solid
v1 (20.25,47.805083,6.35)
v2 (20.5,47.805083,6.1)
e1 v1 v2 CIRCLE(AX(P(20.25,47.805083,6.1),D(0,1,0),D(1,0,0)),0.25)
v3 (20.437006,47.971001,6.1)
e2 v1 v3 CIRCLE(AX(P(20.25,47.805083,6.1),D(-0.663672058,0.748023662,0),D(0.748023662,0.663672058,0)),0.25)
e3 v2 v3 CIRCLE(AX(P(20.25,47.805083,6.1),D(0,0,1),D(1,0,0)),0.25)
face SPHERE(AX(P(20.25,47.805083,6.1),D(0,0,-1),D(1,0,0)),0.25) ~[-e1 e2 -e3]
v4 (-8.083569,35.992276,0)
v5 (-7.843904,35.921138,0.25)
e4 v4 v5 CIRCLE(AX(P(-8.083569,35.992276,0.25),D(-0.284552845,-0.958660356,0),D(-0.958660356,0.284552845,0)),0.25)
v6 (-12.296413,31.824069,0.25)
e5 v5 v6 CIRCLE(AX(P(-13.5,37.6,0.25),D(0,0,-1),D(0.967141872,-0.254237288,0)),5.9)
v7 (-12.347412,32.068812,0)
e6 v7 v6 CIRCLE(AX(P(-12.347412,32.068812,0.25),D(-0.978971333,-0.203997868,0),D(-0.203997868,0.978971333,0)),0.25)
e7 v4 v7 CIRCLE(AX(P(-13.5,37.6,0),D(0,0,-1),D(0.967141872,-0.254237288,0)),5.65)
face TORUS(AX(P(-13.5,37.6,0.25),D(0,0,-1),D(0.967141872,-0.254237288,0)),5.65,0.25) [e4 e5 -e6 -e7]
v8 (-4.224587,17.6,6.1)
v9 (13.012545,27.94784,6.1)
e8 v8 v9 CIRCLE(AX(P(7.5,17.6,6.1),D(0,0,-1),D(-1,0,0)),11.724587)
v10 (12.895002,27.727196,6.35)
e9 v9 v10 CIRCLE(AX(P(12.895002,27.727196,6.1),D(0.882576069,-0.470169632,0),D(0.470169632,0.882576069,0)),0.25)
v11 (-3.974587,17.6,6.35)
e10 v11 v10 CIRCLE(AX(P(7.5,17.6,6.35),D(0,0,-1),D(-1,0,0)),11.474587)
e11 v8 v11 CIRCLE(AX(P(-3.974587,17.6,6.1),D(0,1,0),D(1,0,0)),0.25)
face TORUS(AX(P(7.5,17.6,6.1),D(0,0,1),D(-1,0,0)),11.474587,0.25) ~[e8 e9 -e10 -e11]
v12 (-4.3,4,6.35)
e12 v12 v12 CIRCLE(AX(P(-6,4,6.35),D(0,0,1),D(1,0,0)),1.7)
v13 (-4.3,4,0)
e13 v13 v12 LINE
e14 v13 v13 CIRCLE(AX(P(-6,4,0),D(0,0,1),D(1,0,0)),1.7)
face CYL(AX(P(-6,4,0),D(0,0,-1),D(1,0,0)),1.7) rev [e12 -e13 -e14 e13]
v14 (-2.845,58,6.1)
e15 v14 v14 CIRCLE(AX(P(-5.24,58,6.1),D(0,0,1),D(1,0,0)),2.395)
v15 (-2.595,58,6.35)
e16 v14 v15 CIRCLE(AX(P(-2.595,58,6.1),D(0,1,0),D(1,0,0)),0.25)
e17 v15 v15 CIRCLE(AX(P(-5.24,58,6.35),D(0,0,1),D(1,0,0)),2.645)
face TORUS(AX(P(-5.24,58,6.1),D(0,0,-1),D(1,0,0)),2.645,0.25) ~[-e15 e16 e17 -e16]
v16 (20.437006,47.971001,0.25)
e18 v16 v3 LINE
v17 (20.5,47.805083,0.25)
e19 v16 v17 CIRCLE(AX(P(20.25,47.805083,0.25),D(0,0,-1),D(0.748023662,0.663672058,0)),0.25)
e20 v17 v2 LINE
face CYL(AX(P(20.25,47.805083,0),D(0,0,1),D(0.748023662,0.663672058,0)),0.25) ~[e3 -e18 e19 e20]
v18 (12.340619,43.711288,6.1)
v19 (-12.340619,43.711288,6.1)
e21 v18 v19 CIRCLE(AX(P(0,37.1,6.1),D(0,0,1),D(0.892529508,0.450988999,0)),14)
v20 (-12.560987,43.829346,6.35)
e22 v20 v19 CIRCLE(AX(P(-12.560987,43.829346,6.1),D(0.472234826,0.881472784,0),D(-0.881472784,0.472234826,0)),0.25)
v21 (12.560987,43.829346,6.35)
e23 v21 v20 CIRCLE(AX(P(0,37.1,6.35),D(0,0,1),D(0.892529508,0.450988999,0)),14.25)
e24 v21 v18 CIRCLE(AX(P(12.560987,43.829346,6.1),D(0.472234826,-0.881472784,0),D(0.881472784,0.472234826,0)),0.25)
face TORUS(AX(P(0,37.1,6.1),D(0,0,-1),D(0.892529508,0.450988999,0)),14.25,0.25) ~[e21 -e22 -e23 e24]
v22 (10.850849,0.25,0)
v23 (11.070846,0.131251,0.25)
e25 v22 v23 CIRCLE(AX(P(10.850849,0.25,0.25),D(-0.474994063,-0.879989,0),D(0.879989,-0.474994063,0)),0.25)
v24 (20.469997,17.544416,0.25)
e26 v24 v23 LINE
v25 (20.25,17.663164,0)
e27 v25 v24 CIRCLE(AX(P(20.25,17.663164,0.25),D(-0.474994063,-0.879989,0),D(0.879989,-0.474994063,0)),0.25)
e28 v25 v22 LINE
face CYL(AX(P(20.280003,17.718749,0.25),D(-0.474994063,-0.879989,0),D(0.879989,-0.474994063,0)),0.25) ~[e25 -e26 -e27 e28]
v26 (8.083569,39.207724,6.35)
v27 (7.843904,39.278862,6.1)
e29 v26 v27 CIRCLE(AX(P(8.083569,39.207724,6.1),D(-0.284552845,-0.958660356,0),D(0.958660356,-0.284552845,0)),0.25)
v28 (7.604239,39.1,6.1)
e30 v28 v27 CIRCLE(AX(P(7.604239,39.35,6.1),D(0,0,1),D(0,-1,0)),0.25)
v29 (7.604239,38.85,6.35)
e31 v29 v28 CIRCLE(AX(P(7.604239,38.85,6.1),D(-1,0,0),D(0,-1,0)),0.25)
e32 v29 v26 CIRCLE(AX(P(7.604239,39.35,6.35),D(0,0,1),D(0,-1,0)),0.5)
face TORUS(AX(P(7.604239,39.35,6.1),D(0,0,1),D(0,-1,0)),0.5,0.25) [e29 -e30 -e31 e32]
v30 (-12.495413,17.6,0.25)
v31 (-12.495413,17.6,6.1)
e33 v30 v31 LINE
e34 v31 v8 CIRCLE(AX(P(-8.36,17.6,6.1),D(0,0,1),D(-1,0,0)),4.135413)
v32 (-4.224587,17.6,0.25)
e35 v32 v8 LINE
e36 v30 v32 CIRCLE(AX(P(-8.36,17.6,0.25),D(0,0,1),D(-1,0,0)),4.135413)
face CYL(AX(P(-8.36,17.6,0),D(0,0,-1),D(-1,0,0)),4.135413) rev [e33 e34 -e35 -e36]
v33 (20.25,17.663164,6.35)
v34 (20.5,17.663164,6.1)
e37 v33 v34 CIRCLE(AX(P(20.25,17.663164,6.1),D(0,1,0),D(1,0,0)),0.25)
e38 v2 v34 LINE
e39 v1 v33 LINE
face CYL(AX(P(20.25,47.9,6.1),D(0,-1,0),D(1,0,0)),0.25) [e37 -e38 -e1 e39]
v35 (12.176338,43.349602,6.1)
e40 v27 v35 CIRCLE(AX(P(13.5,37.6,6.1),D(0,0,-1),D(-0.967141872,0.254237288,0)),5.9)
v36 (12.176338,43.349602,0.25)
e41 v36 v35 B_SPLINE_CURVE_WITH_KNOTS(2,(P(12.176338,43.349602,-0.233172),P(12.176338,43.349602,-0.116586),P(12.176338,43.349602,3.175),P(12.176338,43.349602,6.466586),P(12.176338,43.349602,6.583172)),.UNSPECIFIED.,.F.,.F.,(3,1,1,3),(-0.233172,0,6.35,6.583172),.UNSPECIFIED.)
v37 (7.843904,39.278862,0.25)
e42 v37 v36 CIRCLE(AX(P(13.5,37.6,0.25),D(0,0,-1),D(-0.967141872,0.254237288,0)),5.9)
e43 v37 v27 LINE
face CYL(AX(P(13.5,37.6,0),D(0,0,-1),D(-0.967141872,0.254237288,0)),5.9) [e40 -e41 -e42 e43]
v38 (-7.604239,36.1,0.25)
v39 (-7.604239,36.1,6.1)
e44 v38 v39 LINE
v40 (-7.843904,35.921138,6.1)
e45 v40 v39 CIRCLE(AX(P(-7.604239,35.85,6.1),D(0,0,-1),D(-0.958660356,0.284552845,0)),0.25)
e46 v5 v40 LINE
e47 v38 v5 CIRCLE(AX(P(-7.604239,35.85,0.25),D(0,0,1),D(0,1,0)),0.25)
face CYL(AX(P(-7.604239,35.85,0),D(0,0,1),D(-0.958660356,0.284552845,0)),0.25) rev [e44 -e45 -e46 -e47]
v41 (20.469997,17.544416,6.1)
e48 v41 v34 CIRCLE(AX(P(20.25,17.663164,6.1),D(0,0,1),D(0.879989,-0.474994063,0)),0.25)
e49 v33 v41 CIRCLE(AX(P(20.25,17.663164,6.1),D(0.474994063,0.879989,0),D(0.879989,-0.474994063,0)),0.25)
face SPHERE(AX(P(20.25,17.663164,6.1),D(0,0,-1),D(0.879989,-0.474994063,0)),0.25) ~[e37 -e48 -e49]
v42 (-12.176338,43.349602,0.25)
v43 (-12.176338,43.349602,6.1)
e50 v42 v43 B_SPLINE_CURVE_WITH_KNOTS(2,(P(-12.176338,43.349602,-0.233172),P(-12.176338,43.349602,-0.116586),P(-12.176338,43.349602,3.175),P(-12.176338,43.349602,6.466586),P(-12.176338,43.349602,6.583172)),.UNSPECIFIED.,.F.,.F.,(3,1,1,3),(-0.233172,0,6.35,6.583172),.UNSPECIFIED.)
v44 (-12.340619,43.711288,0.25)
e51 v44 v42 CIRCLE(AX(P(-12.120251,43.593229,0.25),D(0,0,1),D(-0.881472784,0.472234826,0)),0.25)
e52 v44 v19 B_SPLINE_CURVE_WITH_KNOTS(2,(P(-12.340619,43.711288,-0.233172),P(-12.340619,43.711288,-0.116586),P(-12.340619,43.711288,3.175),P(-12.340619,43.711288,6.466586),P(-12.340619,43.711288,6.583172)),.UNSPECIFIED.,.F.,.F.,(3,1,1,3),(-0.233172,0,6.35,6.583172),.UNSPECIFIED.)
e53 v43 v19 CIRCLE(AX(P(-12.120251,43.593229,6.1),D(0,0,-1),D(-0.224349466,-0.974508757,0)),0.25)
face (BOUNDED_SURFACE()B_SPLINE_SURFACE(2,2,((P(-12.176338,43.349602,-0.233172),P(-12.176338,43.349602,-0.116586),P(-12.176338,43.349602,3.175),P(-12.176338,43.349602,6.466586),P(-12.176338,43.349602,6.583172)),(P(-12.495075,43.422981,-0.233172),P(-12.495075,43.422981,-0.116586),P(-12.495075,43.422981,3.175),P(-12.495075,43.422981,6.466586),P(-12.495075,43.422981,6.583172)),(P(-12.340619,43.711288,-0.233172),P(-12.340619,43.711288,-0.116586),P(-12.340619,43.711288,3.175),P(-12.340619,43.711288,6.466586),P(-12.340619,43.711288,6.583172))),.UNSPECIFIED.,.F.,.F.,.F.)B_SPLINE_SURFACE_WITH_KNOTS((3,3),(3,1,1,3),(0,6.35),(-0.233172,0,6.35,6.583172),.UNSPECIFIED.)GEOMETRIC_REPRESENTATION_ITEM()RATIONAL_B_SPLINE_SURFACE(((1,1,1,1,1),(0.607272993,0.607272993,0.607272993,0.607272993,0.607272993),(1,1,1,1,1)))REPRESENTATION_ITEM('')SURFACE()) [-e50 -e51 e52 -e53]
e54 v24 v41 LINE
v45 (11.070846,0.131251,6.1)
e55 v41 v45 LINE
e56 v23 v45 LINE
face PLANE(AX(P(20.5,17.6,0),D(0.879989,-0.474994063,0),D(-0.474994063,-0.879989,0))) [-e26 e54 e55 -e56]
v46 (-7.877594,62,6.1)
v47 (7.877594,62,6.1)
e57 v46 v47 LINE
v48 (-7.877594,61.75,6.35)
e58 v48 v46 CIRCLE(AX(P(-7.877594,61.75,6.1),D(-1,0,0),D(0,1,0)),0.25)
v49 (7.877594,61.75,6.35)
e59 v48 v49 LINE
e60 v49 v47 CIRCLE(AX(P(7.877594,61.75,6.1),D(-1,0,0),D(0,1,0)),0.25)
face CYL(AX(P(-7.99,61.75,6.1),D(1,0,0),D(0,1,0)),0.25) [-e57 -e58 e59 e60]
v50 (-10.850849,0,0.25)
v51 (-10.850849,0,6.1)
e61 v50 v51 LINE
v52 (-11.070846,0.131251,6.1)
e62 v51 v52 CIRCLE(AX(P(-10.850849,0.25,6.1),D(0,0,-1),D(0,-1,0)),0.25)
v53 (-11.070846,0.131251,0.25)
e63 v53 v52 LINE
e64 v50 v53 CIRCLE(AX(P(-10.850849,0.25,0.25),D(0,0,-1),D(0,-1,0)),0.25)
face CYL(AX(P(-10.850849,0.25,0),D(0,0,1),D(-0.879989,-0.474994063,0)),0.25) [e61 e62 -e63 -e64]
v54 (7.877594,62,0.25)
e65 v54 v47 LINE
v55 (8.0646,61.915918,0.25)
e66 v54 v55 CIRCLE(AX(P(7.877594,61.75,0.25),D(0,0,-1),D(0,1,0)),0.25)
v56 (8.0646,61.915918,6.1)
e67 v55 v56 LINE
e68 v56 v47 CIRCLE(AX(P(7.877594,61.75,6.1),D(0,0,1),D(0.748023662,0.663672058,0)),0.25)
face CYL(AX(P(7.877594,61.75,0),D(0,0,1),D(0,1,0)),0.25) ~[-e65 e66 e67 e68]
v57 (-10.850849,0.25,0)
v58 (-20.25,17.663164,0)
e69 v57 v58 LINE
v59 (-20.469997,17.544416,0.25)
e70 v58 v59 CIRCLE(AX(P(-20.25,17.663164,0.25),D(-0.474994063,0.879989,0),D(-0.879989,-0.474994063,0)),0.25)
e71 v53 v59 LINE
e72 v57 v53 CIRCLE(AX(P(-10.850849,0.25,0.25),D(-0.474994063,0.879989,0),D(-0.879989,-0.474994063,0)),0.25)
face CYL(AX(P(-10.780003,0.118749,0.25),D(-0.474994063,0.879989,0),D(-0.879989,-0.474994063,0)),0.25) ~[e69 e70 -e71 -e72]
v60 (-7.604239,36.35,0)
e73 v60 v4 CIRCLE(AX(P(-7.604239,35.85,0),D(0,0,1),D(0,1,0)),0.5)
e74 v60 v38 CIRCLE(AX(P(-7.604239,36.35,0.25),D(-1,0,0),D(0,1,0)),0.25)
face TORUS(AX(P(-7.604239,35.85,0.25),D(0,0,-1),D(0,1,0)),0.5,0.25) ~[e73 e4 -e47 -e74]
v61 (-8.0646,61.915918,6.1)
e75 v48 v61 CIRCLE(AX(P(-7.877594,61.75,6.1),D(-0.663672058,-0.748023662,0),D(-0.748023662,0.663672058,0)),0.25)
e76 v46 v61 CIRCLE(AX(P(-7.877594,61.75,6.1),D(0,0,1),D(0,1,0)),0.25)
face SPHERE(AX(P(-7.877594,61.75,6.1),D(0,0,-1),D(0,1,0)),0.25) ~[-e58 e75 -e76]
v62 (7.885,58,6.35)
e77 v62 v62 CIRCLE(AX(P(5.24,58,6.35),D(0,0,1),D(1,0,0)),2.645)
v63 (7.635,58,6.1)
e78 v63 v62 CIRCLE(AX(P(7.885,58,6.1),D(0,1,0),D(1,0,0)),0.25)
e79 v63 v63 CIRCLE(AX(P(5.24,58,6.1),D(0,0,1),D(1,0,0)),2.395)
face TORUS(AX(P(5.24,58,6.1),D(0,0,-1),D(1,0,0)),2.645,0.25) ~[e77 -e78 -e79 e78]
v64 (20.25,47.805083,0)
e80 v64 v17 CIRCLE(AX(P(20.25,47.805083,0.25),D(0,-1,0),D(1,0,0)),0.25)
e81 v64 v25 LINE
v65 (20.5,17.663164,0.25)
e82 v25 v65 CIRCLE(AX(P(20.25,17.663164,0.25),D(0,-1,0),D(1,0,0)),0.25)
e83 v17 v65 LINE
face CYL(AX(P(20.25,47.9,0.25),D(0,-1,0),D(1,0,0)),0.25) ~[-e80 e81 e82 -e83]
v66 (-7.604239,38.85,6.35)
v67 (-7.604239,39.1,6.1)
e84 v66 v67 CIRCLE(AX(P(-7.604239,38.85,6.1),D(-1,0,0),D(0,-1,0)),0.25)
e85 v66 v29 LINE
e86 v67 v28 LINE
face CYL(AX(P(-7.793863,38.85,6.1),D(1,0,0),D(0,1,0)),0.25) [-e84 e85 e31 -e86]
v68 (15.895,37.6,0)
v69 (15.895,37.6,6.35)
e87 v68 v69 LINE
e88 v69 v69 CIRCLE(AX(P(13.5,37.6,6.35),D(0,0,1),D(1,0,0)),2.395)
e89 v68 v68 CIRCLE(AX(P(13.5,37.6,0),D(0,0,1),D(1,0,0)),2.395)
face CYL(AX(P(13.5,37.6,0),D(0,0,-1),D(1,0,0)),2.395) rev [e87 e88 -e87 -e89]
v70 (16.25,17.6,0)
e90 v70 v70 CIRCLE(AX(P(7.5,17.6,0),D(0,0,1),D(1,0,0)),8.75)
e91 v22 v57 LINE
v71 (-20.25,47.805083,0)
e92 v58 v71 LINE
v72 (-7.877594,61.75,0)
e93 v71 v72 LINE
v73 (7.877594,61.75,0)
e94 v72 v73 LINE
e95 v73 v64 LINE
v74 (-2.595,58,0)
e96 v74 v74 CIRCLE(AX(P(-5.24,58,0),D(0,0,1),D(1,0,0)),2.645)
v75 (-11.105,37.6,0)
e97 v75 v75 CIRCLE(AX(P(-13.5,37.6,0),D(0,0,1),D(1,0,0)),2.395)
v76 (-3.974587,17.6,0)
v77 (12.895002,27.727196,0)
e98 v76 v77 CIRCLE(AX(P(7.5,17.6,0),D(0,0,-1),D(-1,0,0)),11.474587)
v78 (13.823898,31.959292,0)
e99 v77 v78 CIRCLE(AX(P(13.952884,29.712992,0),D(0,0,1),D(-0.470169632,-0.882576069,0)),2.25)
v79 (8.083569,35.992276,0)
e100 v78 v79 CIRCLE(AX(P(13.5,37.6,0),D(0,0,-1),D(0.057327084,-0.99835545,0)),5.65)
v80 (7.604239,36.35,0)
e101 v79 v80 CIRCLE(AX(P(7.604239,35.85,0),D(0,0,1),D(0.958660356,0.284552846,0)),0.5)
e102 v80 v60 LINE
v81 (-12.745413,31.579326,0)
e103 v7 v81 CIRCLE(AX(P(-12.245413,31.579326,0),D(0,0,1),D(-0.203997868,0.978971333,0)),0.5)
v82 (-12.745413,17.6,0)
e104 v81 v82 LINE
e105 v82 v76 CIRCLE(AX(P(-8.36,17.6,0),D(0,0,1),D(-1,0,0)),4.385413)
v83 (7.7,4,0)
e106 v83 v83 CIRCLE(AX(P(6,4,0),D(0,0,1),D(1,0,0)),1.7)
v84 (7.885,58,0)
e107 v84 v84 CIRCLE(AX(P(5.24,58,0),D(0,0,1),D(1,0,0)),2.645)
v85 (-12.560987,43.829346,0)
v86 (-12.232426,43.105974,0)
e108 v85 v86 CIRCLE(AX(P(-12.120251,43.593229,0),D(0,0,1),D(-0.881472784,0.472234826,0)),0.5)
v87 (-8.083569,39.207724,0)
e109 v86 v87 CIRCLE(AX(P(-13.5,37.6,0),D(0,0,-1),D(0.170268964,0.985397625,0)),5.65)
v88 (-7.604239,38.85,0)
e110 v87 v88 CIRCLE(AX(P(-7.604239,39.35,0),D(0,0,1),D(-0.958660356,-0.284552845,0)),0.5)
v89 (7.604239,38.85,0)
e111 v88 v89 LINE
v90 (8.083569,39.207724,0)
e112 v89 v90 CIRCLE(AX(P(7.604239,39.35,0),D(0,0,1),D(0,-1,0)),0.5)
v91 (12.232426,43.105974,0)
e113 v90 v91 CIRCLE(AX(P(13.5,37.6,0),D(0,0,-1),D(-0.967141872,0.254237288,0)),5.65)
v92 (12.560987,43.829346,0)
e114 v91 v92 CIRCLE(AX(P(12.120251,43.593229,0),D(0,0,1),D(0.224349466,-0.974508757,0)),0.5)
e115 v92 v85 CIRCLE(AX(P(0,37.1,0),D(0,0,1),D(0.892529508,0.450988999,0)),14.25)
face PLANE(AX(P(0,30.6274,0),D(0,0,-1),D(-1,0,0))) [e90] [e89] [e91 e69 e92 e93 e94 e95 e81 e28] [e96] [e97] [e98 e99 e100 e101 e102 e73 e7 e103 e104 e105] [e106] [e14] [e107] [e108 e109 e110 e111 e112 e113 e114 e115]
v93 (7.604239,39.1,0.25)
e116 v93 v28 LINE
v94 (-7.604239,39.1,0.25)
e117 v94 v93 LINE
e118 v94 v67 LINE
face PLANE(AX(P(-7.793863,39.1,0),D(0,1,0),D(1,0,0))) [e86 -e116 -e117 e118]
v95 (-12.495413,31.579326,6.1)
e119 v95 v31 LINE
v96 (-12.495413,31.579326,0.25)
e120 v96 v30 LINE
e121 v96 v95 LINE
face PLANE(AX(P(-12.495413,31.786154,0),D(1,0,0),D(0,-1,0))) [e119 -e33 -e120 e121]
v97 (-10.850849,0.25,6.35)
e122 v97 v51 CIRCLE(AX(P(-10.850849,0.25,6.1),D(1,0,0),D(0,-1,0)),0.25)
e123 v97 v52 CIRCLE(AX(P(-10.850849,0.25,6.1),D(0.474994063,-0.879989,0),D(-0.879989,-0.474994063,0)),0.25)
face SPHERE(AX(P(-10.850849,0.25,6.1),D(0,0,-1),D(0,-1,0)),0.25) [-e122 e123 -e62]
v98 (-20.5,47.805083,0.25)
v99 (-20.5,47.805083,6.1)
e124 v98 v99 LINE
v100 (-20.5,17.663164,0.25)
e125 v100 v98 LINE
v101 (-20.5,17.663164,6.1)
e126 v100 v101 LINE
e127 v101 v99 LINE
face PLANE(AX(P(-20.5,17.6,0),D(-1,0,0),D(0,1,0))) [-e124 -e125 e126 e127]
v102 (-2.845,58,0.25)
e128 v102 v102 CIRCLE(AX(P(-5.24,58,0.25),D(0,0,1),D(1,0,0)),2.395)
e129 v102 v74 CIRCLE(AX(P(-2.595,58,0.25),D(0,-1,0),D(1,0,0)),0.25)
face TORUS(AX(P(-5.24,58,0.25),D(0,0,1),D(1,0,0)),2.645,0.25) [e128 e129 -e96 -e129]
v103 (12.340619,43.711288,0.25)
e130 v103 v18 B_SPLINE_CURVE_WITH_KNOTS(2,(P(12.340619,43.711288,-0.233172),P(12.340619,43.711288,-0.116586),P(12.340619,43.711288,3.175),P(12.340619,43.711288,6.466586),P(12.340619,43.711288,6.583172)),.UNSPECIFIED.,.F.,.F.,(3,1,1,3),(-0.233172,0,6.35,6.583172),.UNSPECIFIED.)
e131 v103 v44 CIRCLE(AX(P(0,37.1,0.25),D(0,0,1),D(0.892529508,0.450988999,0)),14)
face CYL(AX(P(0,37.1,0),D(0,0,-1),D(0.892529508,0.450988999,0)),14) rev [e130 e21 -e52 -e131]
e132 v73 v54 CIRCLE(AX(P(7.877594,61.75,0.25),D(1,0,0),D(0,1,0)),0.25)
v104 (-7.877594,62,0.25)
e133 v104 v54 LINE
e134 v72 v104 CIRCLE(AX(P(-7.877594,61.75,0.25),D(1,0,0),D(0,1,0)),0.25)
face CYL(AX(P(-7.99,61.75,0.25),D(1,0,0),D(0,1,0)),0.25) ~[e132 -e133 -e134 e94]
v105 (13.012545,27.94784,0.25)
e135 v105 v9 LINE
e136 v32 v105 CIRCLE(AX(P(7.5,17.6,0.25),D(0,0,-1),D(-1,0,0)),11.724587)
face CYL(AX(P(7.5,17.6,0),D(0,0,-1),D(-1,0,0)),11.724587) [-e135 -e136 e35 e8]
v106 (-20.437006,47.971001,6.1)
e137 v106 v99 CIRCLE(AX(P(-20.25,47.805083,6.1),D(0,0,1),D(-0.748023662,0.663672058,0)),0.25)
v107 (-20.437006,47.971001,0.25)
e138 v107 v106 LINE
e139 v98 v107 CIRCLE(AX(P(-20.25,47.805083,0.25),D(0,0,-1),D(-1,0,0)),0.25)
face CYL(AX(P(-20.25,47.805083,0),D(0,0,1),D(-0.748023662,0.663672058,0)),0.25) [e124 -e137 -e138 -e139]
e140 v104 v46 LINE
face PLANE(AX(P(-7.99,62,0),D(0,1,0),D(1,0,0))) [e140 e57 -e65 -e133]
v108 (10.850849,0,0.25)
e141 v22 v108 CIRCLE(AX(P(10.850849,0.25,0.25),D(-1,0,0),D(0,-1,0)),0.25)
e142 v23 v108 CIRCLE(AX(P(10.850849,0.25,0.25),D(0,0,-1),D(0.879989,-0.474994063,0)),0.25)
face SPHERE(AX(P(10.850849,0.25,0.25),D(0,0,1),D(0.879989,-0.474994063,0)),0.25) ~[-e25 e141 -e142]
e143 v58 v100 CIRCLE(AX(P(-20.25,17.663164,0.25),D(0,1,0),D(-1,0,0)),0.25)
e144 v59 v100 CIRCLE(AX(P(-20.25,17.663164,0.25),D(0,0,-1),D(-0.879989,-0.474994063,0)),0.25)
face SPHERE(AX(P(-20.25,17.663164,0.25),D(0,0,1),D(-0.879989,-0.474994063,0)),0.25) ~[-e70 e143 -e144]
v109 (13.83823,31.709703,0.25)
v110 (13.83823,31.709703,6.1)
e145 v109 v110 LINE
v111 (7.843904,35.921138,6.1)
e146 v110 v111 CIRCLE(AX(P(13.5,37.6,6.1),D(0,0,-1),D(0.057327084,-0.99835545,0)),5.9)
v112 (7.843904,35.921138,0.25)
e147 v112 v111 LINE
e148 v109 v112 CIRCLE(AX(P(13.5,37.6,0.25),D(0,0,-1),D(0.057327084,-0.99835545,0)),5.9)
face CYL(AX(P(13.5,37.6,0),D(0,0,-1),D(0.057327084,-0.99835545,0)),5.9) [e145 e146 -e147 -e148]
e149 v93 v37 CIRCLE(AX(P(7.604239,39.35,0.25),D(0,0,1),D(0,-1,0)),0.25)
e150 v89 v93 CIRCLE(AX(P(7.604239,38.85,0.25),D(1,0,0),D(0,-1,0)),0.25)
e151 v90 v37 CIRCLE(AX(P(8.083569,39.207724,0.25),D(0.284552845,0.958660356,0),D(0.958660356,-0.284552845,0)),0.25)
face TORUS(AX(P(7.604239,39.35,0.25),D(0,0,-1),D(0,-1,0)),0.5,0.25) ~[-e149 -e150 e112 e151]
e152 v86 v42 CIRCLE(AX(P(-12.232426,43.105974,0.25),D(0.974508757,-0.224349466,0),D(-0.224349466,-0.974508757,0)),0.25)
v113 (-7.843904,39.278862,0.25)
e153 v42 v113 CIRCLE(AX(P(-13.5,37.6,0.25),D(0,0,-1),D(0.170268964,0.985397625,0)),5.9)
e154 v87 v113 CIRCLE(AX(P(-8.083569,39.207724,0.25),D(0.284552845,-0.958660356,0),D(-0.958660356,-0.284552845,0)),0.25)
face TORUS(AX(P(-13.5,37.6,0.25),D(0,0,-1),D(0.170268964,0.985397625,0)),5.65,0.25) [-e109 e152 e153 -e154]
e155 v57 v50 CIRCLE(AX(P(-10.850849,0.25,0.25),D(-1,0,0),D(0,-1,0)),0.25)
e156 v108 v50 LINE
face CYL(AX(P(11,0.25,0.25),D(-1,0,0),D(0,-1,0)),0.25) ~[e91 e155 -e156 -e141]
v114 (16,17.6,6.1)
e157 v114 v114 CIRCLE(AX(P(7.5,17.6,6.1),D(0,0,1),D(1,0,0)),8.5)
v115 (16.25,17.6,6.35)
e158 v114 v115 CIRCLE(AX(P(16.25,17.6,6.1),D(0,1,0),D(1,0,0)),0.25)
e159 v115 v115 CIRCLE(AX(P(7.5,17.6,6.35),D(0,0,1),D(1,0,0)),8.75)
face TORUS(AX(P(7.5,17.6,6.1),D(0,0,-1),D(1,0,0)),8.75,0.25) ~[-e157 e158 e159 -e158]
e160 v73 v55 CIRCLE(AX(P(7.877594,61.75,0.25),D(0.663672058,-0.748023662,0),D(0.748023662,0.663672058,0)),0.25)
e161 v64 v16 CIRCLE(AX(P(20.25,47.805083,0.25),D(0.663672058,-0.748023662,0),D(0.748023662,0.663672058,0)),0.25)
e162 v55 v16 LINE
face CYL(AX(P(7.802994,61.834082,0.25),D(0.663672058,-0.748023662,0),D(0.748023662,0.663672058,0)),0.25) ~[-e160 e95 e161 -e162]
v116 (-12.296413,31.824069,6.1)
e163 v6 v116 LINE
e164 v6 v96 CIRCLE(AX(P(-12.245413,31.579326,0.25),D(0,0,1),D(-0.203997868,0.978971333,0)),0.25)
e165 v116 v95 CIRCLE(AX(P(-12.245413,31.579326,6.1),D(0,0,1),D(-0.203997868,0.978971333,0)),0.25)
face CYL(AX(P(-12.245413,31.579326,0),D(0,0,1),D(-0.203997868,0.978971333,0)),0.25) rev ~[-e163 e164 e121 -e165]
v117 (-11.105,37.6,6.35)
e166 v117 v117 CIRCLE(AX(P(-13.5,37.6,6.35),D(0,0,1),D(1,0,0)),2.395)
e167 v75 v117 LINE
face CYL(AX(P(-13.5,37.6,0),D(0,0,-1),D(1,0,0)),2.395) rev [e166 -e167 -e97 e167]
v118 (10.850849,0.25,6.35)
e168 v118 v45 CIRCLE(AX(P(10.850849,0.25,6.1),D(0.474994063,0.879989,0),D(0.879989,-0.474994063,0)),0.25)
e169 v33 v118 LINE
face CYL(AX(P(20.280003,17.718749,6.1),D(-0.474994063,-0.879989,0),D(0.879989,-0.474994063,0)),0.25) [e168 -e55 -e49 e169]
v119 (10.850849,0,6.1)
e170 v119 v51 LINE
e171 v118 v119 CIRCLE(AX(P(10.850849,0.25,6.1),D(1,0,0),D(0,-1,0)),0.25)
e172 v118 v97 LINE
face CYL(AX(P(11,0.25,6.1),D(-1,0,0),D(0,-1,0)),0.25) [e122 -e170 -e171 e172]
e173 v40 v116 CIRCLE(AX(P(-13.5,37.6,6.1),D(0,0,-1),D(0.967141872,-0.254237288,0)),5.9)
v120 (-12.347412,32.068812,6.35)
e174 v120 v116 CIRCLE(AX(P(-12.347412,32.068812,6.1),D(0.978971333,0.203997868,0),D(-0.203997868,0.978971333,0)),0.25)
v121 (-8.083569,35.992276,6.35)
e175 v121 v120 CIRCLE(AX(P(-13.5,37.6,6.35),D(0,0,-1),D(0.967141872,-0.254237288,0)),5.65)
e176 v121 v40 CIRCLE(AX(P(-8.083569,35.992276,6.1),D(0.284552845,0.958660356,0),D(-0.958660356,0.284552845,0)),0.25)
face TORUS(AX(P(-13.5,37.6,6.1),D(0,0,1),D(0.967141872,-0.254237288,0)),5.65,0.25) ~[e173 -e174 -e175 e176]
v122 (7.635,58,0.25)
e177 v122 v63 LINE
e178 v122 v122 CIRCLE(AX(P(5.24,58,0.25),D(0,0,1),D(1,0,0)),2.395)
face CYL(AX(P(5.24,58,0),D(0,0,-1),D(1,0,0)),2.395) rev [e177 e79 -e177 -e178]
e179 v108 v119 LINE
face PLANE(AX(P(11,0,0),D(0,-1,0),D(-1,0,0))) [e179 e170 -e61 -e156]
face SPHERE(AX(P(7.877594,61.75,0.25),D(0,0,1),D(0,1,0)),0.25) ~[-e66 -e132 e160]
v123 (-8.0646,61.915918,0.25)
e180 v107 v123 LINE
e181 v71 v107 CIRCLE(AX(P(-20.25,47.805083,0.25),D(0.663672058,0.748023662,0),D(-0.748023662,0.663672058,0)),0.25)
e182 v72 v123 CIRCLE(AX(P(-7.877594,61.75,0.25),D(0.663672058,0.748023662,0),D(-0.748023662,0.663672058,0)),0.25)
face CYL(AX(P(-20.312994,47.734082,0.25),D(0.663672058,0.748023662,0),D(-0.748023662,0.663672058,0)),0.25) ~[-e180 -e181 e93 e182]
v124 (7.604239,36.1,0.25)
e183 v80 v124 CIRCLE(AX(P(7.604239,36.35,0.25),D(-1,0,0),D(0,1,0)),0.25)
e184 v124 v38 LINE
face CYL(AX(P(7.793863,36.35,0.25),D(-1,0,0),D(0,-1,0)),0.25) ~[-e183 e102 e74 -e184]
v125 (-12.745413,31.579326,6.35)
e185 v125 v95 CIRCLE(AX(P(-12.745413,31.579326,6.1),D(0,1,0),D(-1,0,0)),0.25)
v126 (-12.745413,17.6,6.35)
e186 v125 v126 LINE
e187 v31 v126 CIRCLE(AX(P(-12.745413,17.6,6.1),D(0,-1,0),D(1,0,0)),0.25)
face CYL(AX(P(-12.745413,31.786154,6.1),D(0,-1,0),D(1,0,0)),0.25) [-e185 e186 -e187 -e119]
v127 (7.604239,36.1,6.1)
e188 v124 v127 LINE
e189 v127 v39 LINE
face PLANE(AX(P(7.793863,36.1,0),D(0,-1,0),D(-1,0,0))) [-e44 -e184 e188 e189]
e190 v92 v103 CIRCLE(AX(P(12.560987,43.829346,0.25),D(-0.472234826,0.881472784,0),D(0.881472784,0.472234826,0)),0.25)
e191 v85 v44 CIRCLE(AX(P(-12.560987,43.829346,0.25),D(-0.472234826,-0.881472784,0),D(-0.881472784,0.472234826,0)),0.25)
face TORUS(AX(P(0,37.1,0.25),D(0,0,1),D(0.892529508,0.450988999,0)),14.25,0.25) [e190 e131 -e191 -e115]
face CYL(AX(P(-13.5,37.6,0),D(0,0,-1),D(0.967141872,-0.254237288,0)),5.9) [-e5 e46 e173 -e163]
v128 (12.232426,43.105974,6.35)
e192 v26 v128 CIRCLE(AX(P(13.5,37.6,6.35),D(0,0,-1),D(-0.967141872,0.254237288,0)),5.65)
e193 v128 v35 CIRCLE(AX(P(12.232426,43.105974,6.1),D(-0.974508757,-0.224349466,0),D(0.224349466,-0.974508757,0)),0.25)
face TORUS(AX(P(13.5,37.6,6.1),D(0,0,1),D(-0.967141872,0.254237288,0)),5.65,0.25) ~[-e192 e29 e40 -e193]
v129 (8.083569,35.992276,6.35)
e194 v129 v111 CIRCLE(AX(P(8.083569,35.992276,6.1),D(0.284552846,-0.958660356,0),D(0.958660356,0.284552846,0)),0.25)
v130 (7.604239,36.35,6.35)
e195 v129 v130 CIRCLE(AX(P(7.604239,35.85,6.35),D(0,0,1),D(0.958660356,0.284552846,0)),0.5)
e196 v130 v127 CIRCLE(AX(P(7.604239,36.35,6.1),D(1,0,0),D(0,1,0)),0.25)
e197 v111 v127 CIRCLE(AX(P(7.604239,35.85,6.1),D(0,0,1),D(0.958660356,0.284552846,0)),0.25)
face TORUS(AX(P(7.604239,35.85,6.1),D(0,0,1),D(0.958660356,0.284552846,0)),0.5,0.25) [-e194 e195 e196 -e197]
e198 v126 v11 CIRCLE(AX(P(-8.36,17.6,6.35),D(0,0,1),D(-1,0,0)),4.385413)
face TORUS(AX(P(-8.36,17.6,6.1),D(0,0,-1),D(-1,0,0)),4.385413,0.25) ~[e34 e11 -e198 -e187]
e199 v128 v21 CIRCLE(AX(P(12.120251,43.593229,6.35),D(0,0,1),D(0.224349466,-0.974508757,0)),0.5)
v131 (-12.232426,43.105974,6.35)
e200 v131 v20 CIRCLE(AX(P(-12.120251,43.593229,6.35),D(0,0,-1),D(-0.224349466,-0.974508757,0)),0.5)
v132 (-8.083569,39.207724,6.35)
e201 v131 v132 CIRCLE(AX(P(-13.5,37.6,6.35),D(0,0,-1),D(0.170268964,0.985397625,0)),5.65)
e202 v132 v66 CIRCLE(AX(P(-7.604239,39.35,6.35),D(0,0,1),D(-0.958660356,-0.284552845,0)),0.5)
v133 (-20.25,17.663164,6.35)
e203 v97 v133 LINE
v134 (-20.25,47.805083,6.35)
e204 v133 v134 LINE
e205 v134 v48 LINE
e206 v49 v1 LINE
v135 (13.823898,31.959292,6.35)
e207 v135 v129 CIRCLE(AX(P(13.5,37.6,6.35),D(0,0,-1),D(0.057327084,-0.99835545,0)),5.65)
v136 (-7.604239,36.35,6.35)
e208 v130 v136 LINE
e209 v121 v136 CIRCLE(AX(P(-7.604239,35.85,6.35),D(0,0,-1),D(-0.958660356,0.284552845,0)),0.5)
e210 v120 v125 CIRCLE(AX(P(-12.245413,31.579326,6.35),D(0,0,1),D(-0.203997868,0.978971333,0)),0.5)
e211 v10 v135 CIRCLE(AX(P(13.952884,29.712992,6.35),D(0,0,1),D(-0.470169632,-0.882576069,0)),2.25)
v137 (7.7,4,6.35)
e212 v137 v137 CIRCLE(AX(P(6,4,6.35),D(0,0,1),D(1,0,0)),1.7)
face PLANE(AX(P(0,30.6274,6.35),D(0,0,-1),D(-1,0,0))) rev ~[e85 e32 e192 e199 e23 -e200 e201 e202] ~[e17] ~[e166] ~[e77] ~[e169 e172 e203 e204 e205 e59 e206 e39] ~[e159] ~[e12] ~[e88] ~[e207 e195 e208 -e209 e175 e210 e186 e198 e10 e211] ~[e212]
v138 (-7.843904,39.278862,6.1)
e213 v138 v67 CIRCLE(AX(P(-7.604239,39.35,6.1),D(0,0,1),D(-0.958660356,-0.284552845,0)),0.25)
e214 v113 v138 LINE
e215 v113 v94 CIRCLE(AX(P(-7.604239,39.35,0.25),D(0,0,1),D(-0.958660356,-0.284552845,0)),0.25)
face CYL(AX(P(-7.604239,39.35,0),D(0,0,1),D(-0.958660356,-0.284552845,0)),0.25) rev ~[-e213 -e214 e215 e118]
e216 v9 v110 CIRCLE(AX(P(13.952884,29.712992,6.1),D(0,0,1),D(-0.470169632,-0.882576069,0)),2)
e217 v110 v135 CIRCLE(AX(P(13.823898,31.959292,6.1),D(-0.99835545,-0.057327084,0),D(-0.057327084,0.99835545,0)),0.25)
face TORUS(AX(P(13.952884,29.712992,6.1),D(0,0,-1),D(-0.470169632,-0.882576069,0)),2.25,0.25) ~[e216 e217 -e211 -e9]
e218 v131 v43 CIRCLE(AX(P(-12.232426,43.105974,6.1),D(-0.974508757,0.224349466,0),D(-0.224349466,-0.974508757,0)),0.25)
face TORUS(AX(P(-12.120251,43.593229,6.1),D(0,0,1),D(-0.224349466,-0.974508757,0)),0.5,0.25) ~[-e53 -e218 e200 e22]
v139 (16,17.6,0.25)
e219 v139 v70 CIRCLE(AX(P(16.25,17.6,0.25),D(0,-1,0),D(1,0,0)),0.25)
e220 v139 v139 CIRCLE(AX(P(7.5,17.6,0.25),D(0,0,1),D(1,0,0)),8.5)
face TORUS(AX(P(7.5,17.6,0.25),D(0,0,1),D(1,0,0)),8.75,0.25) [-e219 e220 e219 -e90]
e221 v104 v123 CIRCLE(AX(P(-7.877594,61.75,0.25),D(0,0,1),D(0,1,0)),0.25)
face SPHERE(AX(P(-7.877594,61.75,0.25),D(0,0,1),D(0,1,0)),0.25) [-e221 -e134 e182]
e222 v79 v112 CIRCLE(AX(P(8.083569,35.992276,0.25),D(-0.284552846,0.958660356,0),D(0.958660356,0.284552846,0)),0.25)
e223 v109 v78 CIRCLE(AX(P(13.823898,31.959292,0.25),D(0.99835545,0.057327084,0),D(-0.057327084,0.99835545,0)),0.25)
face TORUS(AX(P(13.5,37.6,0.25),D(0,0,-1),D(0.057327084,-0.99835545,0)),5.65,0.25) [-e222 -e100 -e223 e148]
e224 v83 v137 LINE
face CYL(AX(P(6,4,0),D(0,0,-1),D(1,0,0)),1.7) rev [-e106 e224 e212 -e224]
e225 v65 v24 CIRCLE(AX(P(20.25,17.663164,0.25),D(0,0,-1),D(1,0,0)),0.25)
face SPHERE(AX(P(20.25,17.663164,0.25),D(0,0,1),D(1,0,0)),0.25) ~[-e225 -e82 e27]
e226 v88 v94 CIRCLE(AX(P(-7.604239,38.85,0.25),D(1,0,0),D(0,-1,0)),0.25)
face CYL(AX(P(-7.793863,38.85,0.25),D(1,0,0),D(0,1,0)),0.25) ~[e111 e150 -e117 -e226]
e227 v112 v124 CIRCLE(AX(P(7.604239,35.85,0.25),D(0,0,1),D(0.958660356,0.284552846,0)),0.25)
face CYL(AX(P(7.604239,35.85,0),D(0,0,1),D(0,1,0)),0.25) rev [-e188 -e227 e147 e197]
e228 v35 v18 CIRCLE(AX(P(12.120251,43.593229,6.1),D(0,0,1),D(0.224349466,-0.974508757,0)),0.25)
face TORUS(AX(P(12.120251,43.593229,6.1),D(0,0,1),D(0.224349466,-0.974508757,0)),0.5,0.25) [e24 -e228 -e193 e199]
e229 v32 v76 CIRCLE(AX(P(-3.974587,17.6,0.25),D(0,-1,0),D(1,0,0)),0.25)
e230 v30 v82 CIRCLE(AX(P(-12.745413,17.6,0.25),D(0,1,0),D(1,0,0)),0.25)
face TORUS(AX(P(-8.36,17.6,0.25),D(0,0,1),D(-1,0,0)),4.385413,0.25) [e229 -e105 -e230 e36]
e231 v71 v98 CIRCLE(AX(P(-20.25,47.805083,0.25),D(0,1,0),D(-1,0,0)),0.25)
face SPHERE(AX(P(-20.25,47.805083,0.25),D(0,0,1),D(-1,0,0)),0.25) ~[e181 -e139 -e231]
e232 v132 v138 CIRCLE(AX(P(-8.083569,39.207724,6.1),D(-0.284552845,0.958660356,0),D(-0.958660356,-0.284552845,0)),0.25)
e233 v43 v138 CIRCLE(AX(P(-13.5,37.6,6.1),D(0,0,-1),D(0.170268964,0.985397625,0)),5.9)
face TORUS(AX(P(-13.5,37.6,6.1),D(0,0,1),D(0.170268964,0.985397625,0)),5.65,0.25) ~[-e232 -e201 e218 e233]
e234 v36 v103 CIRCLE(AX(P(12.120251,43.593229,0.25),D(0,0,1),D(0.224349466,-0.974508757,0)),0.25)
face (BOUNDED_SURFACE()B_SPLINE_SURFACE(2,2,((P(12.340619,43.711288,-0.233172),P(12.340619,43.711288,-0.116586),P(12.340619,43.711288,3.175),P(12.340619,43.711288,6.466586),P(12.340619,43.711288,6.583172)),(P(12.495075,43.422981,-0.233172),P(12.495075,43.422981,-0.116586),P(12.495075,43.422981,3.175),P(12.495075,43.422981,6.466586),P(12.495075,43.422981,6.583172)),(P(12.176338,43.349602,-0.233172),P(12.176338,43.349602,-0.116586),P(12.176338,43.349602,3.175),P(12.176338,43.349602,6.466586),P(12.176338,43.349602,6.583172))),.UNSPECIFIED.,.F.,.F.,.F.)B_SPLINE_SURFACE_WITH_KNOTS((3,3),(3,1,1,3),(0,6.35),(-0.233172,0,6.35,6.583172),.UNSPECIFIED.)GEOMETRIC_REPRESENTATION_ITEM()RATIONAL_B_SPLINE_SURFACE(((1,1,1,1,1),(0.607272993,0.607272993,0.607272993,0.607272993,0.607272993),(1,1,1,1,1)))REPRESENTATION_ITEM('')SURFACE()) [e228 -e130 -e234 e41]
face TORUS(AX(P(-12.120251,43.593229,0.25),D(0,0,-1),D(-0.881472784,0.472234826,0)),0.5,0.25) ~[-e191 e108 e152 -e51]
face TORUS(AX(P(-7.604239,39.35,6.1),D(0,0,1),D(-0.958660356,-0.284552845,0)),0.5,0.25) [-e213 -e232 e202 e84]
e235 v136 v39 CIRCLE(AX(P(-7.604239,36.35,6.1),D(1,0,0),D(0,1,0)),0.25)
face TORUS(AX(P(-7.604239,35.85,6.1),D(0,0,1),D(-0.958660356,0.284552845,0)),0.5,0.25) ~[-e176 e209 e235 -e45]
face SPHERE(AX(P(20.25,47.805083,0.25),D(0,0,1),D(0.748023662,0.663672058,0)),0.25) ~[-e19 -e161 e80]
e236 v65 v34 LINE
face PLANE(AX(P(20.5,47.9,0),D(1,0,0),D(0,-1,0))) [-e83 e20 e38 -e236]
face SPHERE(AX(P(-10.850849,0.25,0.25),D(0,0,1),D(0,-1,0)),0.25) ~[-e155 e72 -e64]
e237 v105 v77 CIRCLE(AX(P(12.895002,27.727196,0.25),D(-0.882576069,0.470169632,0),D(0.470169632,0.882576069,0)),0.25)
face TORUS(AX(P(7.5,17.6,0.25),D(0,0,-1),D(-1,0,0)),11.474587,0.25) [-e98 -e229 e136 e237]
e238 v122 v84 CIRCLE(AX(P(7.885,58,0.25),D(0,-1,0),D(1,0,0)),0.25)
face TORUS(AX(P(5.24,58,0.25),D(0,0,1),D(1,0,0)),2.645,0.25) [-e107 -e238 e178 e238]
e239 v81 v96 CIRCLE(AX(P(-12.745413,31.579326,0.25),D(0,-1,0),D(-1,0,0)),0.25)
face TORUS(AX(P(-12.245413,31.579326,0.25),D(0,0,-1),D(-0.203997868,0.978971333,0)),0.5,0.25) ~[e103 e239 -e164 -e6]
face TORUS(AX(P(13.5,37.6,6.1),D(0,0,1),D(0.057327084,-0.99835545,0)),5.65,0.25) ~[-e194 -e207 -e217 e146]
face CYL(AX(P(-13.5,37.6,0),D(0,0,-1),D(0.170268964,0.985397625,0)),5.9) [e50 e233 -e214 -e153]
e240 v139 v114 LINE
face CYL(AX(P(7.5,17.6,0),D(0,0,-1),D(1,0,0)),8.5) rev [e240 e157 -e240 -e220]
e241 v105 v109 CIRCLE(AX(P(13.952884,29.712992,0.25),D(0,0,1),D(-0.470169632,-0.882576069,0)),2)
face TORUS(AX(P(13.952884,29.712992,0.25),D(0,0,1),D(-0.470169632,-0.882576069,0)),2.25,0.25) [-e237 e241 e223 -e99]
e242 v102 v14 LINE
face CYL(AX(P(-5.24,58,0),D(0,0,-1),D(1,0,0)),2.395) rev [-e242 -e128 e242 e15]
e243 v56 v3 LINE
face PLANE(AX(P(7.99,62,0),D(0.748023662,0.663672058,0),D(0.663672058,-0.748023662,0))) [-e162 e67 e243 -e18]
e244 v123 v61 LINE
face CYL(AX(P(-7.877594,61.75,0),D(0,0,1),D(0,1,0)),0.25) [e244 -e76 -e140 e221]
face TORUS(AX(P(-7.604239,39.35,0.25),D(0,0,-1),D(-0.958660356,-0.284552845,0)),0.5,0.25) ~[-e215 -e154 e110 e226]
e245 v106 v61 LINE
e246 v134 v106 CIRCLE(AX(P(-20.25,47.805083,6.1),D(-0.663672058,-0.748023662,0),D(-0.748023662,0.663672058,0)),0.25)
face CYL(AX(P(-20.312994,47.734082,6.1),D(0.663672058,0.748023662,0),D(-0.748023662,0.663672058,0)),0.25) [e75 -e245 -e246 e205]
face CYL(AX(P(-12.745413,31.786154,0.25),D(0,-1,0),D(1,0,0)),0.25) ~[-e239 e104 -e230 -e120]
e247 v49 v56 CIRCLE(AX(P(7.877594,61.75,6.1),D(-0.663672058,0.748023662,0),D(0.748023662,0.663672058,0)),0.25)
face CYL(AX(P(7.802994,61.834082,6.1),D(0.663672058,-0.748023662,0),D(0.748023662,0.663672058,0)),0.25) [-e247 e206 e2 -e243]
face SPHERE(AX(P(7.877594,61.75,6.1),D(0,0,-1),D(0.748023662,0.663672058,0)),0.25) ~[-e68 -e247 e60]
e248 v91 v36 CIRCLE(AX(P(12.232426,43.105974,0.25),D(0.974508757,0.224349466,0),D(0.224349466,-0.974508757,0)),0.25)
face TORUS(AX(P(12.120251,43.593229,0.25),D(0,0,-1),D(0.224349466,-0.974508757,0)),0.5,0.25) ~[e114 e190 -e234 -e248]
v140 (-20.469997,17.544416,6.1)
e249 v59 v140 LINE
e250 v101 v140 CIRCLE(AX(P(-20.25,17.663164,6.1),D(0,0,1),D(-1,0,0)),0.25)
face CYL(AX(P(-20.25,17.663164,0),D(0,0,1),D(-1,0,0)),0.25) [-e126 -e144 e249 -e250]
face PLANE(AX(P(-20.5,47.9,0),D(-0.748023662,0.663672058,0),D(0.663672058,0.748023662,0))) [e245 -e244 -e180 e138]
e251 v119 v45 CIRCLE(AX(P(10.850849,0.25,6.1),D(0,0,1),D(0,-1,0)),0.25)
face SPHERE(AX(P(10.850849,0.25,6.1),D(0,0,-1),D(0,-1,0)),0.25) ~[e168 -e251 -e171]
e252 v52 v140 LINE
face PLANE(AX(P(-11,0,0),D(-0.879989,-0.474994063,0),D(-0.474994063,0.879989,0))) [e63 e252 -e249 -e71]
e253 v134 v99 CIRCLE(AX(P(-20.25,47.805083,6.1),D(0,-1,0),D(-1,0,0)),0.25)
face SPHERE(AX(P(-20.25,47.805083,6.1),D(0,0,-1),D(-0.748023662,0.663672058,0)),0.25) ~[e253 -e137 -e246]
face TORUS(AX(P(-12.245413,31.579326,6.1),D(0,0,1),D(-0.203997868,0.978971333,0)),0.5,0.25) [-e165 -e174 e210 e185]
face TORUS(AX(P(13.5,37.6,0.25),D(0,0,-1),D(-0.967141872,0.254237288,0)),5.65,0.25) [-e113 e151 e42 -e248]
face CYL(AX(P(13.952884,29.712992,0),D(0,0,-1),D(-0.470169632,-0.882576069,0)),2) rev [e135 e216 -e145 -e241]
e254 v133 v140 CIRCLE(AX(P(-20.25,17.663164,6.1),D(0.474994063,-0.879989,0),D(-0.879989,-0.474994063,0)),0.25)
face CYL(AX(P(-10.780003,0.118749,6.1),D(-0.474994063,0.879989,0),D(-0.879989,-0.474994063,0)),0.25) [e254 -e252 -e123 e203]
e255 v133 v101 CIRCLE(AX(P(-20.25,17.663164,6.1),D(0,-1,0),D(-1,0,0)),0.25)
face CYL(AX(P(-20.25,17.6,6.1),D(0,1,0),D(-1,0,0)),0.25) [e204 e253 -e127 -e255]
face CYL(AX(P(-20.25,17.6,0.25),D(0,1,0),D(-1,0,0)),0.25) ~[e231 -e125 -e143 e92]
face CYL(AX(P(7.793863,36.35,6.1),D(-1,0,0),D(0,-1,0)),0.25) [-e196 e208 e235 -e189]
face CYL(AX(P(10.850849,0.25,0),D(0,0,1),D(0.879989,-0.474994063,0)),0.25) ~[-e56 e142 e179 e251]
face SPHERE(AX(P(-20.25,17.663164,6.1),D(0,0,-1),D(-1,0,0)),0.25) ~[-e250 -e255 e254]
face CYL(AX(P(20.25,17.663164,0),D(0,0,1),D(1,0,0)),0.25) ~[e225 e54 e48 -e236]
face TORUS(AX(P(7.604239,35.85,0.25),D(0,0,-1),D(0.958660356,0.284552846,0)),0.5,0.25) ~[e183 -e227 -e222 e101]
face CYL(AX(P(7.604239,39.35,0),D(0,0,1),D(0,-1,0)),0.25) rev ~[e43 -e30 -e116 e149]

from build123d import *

# Parameters (mm, degrees)
ESBO_O1_R                = 2.395
ESBO_O1_R_2              = 1.5
ESBO_O1_R_3              = 8.5
RESSALTO_EXTRUS_O1_DEPTH = 6.35
FILETE1_R                = 0.25
SKETCH_1_R               = 3.248462934
SKETCH_1_R_2             = 2.395
SKETCH_1_R_3             = 3.322627998
EXTRUDE_1_DEPTH          = 6.35
SKETCH_2_R               = 1.7
CUT_EXTRUDE_1_DEPTH      = 6.35


with BuildPart() as part:
    # Esboço1 → Ressalto-extrusão1 (new body)
    with BuildSketch(Plane.XY):
        Polygon((-7.99, 62), (7.99, 62), (20.5, 47.9), (20.5, 17.6), (11, 0), (-11, 0), (-20.5, 17.6), (-20.5, 47.9), align=None)
        with Locations((5.24, 58)):
            Circle(ESBO_O1_R, mode=Mode.SUBTRACT)
        with Locations((-5.24, 58)):
            Circle(ESBO_O1_R, mode=Mode.SUBTRACT)
        with Locations((6, 4)):
            Circle(ESBO_O1_R_2, mode=Mode.SUBTRACT)
        with Locations((-6, 4)):
            Circle(ESBO_O1_R_2, mode=Mode.SUBTRACT)
        with Locations((7.5, 17.6)):
            Circle(ESBO_O1_R_3, mode=Mode.SUBTRACT)
        with Locations((13.5, 37.6)):
            Circle(ESBO_O1_R, mode=Mode.SUBTRACT)
        with Locations((-13.5, 37.6)):
            Circle(ESBO_O1_R, mode=Mode.SUBTRACT)
        with BuildLine():
            Line((-7.793862953, 39.1), (7.793862953, 39.1))
            ThreePointArc((7.793862953, 39.1), (9.511169252, 41.94732438), (12.495413112, 43.413845989))
            ThreePointArc((12.495413112, 43.413845989), (0, 51.1), (-12.495413112, 43.413845989))
            ThreePointArc((-12.495413112, 43.413845989), (-9.511169252, 41.94732438), (-7.793862953, 39.1))
        make_face(mode=Mode.SUBTRACT)
        with BuildLine():
            Line((-12.495413112, 31.786154011), (-12.495413112, 17.6))
            ThreePointArc((-12.495413112, 17.6), (-8.36, 13.464586888), (-4.224586888, 17.6))
            ThreePointArc((-4.224586888, 17.6), (1.465365447, 27.652319311), (13.012544702, 27.947839804))
            ThreePointArc((13.012544702, 27.947839804), (15.906382409, 29.2842218), (13.838229798, 31.709702842))
            ThreePointArc((13.838229798, 31.709702842), (10.032683409, 32.826351955), (7.793862953, 36.1))
            Line((7.793862953, 36.1), (-7.793862953, 36.1))
            ThreePointArc((-7.793862953, 36.1), (-9.511169252, 33.25267562), (-12.495413112, 31.786154011))
        make_face(mode=Mode.SUBTRACT)
    extrude(amount=RESSALTO_EXTRUS_O1_DEPTH)

    # Filete1
    filete1_edges = [part.edges().sort_by_distance(p)[0] for p in [
        (0, 0, 0),
        (-15.75, 8.8, 0),
        (-20.5, 32.75, 0),
        (-14.245, 54.95, 0),
        (-15.75, 8.8, 6.35),
        (-7.99, 62, 3.175),
        (7.99, 62, 3.175),
        (20.5, 47.9, 3.175),
        (20.5, 17.6, 3.175),
        (11, 0, 3.175),
        (-11, 0, 3.175),
        (-20.5, 17.6, 3.175),
        (-20.5, 47.9, 3.175),
        (0, 0, 6.35),
        (15.75, 8.8, 6.35),
        (-7.635, 58, 0),
        (-7.635, 58, 6.35),
        (20.5, 32.75, 6.35),
        (2.845, 58, 0),
        (2.845, 58, 6.35),
        (14.245, 54.95, 6.35),
        (0, 62, 6.35),
        (-1, 17.6, 0),
        (-1, 17.6, 6.35),
        (11.105, 37.6, 0),
        (11.105, 37.6, 6.35),
        (-15.895, 37.6, 0),
        (-15.895, 37.6, 6.35),
        (-14.245, 54.95, 6.35),
        (-9.511169252, 41.94732438, 0),
        (-12.495413112, 43.413845989, 3.175),
        (0, 39.1, 0),
        (-7.793862953, 39.1, 3.175),
        (9.511169252, 41.94732438, 0),
        (7.793862953, 39.1, 3.175),
        (0, 51.1, 0),
        (12.495413112, 43.413845989, 3.175),
        (-9.511169252, 41.94732438, 6.35),
        (0, 39.1, 6.35),
        (9.511169252, 41.94732438, 6.35),
        (0, 51.1, 6.35),
        (-9.511169252, 33.25267562, 0),
        (-7.793862953, 36.1, 3.175),
        (-12.495413112, 24.693077006, 0),
        (-12.495413112, 31.786154011, 3.175),
        (-8.36, 13.464586888, 0),
        (1.465365447, 27.652319311, 0),
        (15.906382409, 29.2842218, 0),
        (10.032683409, 32.826351955, 0),
        (0, 36.1, 0),
        (7.793862953, 36.1, 3.175),
        (-9.511169252, 33.25267562, 6.35),
        (-12.495413112, 24.693077006, 6.35),
        (-8.36, 13.464586888, 6.35),
        (1.465365447, 27.652319311, 6.35),
        (15.906382409, 29.2842218, 6.35),
        (10.032683409, 32.826351955, 6.35),
        (0, 36.1, 6.35),
        (0, 62, 0),
        (-20.5, 32.75, 6.35),
        (14.245, 54.95, 0),
        (20.5, 32.75, 0),
        (15.75, 8.8, 0),
    ]]
    fillet(filete1_edges, radius=FILETE1_R)

    # 草图1 → 凸台-拉伸1 (add)
    # profile 1 of 2: a face of its own
    with BuildSketch(Plane.XY):
        with Locations((-13.5, 37.6)):
            Circle(SKETCH_1_R)
        with Locations((-13.5, 37.6)):
            Circle(SKETCH_1_R_2, mode=Mode.SUBTRACT)
    # profile 2 of 2: a face of its own
    with BuildSketch(Plane.XY):
        with Locations((13.5, 37.6)):
            Circle(SKETCH_1_R_3)
        with Locations((13.5, 37.6)):
            Circle(SKETCH_1_R_2, mode=Mode.SUBTRACT)
    extrude(amount=EXTRUDE_1_DEPTH)

    # 草图2 → 切除-拉伸1 (cut)
    with BuildSketch(Plane.XY):
        with Locations((-6, 4)):
            Circle(SKETCH_2_R)
        with Locations((6, 4)):
            Circle(SKETCH_2_R)
    extrude(amount=CUT_EXTRUDE_1_DEPTH, mode=Mode.SUBTRACT)


solid = part.part
